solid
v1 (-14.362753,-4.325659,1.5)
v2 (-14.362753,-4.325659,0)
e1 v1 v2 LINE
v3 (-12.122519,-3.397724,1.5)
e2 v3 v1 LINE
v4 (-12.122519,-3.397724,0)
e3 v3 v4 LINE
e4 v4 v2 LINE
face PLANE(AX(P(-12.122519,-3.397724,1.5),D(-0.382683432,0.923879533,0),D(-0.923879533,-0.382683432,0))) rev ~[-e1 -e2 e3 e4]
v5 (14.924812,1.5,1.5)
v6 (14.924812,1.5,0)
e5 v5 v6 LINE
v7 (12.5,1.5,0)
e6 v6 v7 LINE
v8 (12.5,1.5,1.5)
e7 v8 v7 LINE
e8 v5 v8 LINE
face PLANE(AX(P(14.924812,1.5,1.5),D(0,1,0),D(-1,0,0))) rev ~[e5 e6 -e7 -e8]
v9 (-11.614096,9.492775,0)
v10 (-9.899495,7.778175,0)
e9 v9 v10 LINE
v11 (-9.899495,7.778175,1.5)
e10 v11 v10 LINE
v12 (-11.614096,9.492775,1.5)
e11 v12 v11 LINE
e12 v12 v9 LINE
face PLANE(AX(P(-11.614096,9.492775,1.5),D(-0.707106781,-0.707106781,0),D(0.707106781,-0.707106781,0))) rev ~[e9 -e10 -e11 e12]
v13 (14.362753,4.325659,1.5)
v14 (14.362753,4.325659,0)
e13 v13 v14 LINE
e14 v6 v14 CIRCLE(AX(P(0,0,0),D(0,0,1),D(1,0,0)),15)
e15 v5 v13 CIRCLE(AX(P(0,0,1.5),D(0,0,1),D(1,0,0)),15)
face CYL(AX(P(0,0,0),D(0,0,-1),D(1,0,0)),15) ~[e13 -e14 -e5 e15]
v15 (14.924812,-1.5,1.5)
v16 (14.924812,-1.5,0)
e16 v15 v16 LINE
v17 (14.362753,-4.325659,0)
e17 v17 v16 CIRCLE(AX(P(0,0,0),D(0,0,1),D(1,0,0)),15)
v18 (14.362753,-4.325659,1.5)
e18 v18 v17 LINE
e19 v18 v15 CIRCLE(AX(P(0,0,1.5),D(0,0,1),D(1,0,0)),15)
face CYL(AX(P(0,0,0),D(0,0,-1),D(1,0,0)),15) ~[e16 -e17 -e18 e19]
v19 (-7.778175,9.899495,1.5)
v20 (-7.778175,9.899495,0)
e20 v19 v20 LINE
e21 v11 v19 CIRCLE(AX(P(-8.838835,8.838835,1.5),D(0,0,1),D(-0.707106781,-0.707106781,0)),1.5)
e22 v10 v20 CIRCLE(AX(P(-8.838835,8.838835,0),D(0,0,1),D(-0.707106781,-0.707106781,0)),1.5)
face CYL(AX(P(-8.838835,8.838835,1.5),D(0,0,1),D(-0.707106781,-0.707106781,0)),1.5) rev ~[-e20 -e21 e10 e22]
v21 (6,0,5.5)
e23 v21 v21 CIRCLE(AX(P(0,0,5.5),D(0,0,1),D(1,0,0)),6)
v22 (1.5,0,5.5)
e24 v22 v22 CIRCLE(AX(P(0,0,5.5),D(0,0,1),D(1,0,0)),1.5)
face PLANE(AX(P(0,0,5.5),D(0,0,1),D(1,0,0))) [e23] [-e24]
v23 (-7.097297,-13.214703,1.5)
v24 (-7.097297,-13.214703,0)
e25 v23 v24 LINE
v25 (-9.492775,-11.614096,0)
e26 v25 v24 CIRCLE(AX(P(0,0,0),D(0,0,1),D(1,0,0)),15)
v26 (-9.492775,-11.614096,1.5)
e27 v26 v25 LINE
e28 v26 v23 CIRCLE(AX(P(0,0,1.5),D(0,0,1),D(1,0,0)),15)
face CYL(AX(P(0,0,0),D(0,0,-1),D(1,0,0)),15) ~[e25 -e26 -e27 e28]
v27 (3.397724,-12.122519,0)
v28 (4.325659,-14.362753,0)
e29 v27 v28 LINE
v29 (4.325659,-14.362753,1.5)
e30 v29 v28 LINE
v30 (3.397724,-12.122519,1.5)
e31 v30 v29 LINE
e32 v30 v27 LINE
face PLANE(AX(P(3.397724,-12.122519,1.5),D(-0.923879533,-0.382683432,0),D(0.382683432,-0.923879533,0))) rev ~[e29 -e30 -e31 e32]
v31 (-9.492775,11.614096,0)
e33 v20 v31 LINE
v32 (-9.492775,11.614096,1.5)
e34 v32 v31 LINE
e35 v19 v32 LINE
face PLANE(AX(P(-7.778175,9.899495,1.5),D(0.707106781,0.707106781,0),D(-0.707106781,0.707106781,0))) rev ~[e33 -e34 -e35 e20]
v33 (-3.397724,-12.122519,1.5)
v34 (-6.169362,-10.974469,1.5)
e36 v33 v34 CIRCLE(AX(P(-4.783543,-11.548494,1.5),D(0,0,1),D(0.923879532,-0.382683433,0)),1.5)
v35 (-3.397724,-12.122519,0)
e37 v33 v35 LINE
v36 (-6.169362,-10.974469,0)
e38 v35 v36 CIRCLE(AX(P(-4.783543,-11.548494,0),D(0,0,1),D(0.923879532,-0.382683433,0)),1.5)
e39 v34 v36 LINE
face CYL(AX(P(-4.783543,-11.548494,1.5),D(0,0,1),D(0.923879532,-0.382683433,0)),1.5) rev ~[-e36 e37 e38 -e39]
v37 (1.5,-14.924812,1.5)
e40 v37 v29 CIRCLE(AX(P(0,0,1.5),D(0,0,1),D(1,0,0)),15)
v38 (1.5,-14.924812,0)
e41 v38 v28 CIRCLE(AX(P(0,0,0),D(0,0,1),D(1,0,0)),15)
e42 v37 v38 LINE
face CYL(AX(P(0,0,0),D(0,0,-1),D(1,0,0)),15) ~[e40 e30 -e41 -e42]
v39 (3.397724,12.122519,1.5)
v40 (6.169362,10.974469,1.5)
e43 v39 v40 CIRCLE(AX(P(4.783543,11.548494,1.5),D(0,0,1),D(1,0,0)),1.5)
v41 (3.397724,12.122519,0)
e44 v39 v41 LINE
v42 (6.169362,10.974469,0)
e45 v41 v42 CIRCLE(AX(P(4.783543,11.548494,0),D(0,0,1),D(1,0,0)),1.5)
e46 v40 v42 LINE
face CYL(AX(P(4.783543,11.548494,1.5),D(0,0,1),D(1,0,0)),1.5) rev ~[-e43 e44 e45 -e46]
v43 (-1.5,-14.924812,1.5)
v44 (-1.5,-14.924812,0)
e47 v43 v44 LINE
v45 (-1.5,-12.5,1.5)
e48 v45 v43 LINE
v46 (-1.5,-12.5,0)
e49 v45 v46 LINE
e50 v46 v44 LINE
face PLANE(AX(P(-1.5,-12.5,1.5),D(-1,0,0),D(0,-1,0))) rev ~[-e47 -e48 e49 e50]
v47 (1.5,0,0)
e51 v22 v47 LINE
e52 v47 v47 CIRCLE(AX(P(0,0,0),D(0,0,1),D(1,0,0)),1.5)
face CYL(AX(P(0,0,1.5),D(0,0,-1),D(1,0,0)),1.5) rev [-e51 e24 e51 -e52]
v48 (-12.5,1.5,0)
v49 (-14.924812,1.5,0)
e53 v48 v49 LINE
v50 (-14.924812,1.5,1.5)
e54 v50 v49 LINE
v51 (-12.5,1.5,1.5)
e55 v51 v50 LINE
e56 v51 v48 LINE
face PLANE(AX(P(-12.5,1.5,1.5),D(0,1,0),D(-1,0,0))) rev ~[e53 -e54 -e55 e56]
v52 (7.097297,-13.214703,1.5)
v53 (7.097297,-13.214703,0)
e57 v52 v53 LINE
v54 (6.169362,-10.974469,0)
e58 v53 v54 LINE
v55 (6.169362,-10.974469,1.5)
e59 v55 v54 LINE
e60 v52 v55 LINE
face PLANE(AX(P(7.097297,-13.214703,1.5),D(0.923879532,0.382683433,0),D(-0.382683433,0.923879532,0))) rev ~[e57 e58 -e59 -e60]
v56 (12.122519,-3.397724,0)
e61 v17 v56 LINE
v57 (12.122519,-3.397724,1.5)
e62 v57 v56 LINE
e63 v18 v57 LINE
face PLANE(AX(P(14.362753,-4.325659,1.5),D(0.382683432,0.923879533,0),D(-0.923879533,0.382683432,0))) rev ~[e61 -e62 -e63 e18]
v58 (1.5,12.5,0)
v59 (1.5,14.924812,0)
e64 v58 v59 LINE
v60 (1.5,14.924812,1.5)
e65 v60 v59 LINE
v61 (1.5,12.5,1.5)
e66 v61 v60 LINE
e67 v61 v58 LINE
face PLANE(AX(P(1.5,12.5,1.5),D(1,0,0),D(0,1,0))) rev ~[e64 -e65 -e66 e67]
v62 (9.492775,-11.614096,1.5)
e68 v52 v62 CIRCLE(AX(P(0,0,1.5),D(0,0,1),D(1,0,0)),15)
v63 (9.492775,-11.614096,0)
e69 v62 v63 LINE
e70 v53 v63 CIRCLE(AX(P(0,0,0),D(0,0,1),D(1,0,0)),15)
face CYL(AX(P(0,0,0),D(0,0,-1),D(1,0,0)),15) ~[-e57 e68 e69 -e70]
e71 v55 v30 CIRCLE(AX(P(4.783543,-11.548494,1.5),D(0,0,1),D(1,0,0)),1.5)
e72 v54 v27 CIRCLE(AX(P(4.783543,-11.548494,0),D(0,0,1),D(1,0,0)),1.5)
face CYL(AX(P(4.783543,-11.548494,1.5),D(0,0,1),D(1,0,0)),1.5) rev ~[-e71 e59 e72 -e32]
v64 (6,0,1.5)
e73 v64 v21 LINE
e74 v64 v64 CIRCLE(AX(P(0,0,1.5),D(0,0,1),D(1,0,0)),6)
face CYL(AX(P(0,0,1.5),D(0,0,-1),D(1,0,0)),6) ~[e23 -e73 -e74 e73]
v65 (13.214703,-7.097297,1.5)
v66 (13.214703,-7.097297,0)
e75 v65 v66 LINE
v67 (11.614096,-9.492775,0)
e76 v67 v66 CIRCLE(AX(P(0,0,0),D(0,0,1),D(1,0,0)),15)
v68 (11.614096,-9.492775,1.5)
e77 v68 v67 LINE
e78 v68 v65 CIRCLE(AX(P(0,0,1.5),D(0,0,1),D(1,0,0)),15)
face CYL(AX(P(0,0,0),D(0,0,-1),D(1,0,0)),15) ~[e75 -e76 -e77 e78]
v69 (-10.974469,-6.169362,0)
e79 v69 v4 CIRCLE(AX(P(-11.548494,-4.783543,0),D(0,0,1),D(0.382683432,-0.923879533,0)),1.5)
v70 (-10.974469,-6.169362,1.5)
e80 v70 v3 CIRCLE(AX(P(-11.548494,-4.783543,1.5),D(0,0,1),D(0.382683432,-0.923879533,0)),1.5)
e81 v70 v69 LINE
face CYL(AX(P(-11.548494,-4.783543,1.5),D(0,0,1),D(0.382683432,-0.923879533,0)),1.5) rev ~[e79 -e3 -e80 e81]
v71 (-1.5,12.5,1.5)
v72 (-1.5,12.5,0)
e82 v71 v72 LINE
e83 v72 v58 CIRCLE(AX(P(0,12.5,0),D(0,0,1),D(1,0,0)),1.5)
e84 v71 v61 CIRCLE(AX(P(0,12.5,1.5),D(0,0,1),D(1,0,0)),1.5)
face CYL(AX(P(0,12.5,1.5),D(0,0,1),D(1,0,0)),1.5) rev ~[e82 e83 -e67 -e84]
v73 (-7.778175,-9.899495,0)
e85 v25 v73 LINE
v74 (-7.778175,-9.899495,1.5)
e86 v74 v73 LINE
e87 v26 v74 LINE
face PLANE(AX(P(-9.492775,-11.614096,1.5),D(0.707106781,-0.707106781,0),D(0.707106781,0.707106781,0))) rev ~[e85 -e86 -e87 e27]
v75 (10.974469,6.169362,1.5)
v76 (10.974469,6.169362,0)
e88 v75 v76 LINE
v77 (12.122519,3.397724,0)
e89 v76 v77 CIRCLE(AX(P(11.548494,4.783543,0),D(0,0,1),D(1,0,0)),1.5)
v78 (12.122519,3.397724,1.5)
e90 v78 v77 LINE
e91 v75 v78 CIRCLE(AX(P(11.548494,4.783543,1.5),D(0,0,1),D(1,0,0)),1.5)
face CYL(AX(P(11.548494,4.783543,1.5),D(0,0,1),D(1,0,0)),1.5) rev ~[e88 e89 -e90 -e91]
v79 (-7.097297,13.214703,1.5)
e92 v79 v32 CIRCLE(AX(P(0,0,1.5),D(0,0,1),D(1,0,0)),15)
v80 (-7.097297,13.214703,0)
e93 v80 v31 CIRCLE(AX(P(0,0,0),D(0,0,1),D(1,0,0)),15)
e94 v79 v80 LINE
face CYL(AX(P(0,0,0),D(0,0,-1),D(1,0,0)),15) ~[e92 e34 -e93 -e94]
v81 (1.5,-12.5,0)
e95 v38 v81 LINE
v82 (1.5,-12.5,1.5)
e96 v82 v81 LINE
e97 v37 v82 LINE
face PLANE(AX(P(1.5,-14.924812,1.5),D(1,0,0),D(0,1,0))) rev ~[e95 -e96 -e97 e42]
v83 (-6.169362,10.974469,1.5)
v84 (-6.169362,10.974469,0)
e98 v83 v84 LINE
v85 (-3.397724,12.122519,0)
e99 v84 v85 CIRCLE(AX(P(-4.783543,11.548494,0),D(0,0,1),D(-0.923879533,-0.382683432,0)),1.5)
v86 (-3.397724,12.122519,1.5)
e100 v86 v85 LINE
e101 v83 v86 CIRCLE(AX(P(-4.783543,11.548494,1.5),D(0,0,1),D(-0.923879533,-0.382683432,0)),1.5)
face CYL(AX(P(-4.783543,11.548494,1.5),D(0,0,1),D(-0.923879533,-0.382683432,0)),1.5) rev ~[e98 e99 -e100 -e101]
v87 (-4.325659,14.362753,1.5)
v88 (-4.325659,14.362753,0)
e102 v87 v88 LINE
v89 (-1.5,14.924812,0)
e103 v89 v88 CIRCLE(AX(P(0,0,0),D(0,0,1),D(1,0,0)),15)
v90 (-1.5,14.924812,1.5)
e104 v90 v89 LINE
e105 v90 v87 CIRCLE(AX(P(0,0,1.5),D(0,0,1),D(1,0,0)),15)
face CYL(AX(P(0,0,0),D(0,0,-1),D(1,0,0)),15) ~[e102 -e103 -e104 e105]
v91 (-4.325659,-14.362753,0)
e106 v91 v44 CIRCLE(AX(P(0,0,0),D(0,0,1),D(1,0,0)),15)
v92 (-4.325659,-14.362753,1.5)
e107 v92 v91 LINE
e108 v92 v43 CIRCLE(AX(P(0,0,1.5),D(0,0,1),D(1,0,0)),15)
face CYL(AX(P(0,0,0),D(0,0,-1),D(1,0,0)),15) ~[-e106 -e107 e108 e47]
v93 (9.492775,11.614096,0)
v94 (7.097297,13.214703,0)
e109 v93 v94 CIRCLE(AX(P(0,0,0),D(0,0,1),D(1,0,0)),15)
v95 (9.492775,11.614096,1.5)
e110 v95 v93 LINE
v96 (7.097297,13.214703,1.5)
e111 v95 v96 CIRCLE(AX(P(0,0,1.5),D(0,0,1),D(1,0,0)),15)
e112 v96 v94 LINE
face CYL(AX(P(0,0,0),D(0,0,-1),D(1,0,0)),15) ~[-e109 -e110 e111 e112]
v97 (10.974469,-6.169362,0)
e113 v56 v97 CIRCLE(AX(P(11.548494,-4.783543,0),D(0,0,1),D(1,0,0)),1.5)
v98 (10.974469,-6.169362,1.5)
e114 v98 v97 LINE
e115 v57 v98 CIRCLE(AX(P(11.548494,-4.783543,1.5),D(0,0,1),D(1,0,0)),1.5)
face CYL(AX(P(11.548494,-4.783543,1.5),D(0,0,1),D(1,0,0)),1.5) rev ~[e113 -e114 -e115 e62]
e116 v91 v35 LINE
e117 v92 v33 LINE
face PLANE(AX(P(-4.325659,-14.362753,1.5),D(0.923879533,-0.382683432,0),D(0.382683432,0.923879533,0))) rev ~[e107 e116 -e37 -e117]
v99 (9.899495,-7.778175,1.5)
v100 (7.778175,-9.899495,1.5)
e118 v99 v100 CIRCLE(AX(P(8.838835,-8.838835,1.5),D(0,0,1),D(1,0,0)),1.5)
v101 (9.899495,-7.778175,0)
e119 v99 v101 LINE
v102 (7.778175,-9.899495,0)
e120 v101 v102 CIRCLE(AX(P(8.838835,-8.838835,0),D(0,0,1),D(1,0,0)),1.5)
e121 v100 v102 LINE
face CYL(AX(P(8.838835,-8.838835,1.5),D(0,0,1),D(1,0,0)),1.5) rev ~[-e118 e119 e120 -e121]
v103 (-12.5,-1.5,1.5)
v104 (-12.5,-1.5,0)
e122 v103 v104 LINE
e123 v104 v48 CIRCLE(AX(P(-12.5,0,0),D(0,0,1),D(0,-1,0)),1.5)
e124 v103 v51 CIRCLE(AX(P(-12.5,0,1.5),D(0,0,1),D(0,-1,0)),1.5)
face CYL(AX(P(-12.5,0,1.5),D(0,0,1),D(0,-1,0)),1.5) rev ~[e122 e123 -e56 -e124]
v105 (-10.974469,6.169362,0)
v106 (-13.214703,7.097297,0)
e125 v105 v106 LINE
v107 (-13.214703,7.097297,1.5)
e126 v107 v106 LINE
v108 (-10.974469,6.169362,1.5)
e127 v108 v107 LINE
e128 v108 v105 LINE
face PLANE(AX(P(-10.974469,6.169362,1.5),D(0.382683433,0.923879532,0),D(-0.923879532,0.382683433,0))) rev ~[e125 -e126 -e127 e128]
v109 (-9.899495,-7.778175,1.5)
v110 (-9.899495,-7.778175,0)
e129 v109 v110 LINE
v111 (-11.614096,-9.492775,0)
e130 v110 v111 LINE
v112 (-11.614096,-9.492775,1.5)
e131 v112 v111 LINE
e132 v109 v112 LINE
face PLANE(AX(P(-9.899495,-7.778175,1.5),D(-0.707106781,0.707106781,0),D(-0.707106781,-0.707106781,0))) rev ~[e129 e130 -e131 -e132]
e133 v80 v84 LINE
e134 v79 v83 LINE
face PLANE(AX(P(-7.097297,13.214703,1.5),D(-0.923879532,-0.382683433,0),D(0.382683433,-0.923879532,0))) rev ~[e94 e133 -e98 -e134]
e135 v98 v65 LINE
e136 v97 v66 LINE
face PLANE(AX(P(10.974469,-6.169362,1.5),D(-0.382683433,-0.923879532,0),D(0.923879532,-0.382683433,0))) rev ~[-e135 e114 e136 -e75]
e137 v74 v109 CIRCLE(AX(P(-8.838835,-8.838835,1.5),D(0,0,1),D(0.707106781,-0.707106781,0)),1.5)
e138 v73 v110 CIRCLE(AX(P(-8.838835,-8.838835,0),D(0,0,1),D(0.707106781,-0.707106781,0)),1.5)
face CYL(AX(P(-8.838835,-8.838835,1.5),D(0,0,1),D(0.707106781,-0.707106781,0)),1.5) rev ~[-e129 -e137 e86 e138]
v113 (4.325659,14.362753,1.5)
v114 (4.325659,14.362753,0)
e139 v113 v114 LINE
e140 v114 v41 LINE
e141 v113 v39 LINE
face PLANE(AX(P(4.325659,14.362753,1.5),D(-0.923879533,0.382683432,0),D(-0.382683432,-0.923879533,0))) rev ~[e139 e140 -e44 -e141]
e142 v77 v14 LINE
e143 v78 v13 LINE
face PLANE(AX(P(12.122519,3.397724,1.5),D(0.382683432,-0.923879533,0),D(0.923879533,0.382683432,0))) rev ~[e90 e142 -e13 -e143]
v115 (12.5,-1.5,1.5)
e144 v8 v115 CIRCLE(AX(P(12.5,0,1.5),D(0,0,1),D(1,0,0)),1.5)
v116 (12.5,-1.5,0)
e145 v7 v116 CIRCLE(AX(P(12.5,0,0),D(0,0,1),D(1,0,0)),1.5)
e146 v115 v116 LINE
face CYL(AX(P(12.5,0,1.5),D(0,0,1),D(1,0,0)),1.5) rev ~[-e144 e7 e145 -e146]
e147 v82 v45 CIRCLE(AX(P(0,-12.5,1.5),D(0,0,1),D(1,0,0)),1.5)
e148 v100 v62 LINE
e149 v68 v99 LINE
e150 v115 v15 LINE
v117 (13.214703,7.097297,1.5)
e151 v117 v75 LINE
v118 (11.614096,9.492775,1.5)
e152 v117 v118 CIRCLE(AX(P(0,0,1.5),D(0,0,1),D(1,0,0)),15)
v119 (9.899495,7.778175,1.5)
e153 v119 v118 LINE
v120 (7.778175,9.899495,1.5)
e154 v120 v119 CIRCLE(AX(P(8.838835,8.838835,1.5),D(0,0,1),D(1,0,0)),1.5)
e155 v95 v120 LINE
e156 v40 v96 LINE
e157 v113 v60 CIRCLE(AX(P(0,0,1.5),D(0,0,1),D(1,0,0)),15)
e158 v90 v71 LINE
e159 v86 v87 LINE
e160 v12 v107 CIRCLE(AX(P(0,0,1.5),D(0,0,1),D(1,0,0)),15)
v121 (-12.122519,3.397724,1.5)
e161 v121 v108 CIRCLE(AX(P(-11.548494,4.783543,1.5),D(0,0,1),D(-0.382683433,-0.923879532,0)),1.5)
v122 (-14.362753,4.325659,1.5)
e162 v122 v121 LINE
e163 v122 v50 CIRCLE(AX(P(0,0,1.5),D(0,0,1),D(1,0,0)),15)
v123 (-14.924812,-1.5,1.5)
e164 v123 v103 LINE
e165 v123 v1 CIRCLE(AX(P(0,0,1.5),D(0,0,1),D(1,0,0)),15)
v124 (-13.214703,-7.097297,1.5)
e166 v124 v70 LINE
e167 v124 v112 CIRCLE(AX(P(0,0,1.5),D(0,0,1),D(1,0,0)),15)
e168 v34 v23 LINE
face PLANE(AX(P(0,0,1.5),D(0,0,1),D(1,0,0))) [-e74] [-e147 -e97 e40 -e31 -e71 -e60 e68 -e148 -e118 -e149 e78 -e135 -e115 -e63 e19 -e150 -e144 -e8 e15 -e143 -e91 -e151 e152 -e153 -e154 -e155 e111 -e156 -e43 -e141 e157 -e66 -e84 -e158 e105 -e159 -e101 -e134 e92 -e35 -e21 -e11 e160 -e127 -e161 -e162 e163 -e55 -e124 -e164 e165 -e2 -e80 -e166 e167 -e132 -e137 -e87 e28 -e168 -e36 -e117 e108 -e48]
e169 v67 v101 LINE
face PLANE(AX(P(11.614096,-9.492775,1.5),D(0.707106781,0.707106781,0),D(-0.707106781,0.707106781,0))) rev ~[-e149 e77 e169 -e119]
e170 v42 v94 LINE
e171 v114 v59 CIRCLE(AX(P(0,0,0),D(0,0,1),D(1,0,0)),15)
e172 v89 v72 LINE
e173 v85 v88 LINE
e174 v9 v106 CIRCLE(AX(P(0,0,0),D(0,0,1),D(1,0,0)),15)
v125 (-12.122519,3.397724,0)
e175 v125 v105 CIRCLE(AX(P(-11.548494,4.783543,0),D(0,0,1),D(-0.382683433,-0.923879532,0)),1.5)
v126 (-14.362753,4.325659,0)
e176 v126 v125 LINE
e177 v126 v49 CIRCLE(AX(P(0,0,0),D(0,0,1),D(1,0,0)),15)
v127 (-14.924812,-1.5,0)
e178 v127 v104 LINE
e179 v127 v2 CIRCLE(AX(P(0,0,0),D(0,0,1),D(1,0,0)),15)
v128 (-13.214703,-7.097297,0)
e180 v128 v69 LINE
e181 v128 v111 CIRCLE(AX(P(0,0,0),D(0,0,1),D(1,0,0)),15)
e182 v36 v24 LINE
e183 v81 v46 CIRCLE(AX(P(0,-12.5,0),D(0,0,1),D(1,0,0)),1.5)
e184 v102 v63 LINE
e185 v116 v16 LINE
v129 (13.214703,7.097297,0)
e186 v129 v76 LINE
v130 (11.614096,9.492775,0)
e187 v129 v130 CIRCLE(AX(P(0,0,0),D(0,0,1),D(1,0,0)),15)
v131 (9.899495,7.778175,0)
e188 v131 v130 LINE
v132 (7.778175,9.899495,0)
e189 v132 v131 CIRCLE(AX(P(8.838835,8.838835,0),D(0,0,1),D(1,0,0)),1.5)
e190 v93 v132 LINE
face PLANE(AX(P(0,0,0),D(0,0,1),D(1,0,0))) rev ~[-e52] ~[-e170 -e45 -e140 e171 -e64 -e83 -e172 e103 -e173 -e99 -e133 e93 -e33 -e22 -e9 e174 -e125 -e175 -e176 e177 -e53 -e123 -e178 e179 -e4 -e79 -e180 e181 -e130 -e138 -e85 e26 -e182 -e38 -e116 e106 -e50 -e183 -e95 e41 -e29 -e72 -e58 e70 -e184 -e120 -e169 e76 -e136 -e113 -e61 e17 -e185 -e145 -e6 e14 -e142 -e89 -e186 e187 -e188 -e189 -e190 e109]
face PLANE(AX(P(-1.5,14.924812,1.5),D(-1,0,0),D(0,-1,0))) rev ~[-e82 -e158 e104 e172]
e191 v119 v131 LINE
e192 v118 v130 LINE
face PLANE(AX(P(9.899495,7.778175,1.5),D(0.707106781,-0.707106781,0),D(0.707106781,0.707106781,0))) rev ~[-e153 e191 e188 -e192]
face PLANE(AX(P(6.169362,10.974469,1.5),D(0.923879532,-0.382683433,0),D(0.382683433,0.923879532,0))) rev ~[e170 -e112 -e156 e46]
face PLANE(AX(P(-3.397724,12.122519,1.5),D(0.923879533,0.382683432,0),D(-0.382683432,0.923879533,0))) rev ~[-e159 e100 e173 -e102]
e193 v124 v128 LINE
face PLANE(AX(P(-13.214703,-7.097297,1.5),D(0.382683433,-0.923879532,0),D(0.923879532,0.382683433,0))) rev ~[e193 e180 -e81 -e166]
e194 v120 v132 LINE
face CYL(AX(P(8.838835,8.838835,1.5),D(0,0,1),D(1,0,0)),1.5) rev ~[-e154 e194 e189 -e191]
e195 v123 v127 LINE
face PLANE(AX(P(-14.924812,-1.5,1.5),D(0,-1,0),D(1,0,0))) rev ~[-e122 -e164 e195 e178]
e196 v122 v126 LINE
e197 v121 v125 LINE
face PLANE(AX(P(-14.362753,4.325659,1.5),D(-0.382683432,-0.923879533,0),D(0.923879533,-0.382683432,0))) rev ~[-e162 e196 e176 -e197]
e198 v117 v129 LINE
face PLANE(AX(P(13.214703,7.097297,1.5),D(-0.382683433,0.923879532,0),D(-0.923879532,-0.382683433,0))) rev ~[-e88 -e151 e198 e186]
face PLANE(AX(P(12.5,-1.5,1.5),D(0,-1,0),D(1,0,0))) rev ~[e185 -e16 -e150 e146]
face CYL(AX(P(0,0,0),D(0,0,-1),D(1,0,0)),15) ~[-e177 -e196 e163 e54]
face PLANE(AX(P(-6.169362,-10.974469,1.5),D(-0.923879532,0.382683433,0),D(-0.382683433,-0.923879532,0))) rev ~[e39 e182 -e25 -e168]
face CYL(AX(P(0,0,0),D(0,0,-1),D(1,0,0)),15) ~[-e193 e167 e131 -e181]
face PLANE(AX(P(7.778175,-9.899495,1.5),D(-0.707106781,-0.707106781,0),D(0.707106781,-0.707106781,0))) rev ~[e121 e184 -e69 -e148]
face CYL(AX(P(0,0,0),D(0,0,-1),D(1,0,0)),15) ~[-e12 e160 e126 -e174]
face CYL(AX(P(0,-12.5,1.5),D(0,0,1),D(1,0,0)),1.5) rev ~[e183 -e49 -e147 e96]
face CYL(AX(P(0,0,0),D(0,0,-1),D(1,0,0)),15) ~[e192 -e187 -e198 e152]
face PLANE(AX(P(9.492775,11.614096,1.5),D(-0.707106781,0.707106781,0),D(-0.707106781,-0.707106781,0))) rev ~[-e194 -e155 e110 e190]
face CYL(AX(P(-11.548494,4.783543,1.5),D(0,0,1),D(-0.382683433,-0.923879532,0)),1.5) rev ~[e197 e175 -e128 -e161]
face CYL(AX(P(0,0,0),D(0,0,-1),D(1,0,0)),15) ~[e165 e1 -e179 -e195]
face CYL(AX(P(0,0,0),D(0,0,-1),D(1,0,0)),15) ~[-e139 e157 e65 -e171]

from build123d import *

# Parameters (mm, degrees)
SKETCH1_R           = 15
SKETCH1_R_2         = 1.5
BOSS_EXTRUDE1_DEPTH = 1.5
SKETCH2_R           = 6
SKETCH2_R_2         = 1.5
BOSS_EXTRUDE2_DEPTH = 4
CUT_EXTRUDE3_DEPTH  = 22.587033145


with BuildPart() as part:
    # Sketch1 → Boss-Extrude1 (new body)
    with BuildSketch(Plane.XY):
        Circle(SKETCH1_R)
        Circle(SKETCH1_R_2, mode=Mode.SUBTRACT)
    extrude(amount=BOSS_EXTRUDE1_DEPTH)

    # Sketch2 → Boss-Extrude2 (add)
    with BuildSketch(Plane.XY.offset(1.5)):
        Circle(SKETCH2_R)
        Circle(SKETCH2_R_2, mode=Mode.SUBTRACT)
    extrude(amount=BOSS_EXTRUDE2_DEPTH)

    # Sketch3 → Cut-Extrude3 (cut, through all)
    with BuildSketch(Plane.XY.offset(1.5)):
        with BuildLine():
            Line((-1.5, 14.924811557), (-1.5, 12.5))
            ThreePointArc((-1.5, 12.5), (0, 11), (1.5, 12.5))
            Line((1.5, 12.5), (1.5, 14.924811557))
            ThreePointArc((1.5, 14.924811557), (0, 15), (-1.5, 14.924811557))
        make_face()
        with BuildLine():
            ThreePointArc((7.097297413, 13.214702775), (5.740251485, 13.858192988), (4.325658815, 14.362753072))
            Line((4.325658815, 14.362753072), (3.397723606, 12.122519305))
            ThreePointArc((3.397723606, 12.122519305), (4.209517756, 10.162674858), (6.169362203, 10.974469008))
            Line((6.169362203, 10.974469008), (7.097297413, 13.214702775))
        make_face()
        with BuildLine():
            Line((-3.397723606, 12.122519305), (-4.325658815, 14.362753072))
            ThreePointArc((-4.325658815, 14.362753072), (-5.740251485, 13.858192988), (-7.097297413, 13.214702775))
            Line((-7.097297413, 13.214702775), (-6.169362203, 10.974469008))
            ThreePointArc((-6.169362203, 10.974469008), (-4.209517756, 10.162674858), (-3.397723606, 12.122519305))
        make_face()
        with BuildLine():
            ThreePointArc((11.614095631, 9.492775288), (10.606601718, 10.606601718), (9.492775288, 11.614095631))
            Line((9.492775288, 11.614095631), (7.778174593, 9.899494937))
            ThreePointArc((7.778174593, 9.899494937), (7.778174593, 7.778174593), (9.899494937, 7.778174593))
            Line((9.899494937, 7.778174593), (11.614095631, 9.492775288))
        make_face()
        with BuildLine():
            Line((-7.778174593, 9.899494937), (-9.492775288, 11.614095631))
            ThreePointArc((-9.492775288, 11.614095631), (-10.606601718, 10.606601718), (-11.614095631, 9.492775288))
            Line((-11.614095631, 9.492775288), (-9.899494937, 7.778174593))
            ThreePointArc((-9.899494937, 7.778174593), (-7.778174593, 7.778174593), (-7.778174593, 9.899494937))
        make_face()
        with BuildLine():
            ThreePointArc((14.362753072, 4.325658815), (13.858192988, 5.740251485), (13.214702775, 7.097297413))
            Line((13.214702775, 7.097297413), (10.974469008, 6.169362203))
            ThreePointArc((10.974469008, 6.169362203), (10.162674858, 4.209517756), (12.122519305, 3.397723606))
            Line((12.122519305, 3.397723606), (14.362753072, 4.325658815))
        make_face()
        with BuildLine():
            Line((-10.974469008, 6.169362203), (-13.214702775, 7.097297413))
            ThreePointArc((-13.214702775, 7.097297413), (-13.858192988, 5.740251485), (-14.362753072, 4.325658815))
            Line((-14.362753072, 4.325658815), (-12.122519305, 3.397723606))
            ThreePointArc((-12.122519305, 3.397723606), (-10.162674858, 4.209517756), (-10.974469008, 6.169362203))
        make_face()
        with BuildLine():
            Line((14.924811557, 1.5), (12.5, 1.5))
            ThreePointArc((12.5, 1.5), (11, 0), (12.5, -1.5))
            Line((12.5, -1.5), (14.924811557, -1.5))
            ThreePointArc((14.924811557, -1.5), (15, 0), (14.924811557, 1.5))
        make_face()
        with BuildLine():
            Line((-12.5, 1.5), (-14.924811557, 1.5))
            ThreePointArc((-14.924811557, 1.5), (-15, 0), (-14.924811557, -1.5))
            Line((-14.924811557, -1.5), (-12.5, -1.5))
            ThreePointArc((-12.5, -1.5), (-11, 0), (-12.5, 1.5))
        make_face()
        with BuildLine():
            ThreePointArc((13.214702775, -7.097297413), (13.858192988, -5.740251485), (14.362753072, -4.325658815))
            Line((14.362753072, -4.325658815), (12.122519305, -3.397723606))
            ThreePointArc((12.122519305, -3.397723606), (10.162674858, -4.209517756), (10.974469008, -6.169362203))
            Line((10.974469008, -6.169362203), (13.214702775, -7.097297413))
        make_face()
        with BuildLine():
            Line((-12.122519305, -3.397723606), (-14.362753072, -4.325658815))
            ThreePointArc((-14.362753072, -4.325658815), (-13.858192988, -5.740251485), (-13.214702775, -7.097297413))
            Line((-13.214702775, -7.097297413), (-10.974469008, -6.169362203))
            ThreePointArc((-10.974469008, -6.169362203), (-10.162674858, -4.209517756), (-12.122519305, -3.397723606))
        make_face()
        with BuildLine():
            ThreePointArc((9.492775288, -11.614095631), (10.606601718, -10.606601718), (11.614095631, -9.492775288))
            Line((11.614095631, -9.492775288), (9.899494937, -7.778174593))
            ThreePointArc((9.899494937, -7.778174593), (7.778174593, -7.778174593), (7.778174593, -9.899494937))
            Line((7.778174593, -9.899494937), (9.492775288, -11.614095631))
        make_face()
        with BuildLine():
            Line((-9.899494937, -7.778174593), (-11.614095631, -9.492775288))
            ThreePointArc((-11.614095631, -9.492775288), (-10.606601718, -10.606601718), (-9.492775288, -11.614095631))
            Line((-9.492775288, -11.614095631), (-7.778174593, -9.899494937))
            ThreePointArc((-7.778174593, -9.899494937), (-7.778174593, -7.778174593), (-9.899494937, -7.778174593))
        make_face()
        with BuildLine():
            ThreePointArc((4.325658815, -14.362753072), (5.740251485, -13.858192988), (7.097297413, -13.214702775))
            Line((7.097297413, -13.214702775), (6.169362203, -10.974469008))
            ThreePointArc((6.169362203, -10.974469008), (4.209517756, -10.162674858), (3.397723606, -12.122519305))
            Line((3.397723606, -12.122519305), (4.325658815, -14.362753072))
        make_face()
        with BuildLine():
            Line((-6.169362203, -10.974469008), (-7.097297413, -13.214702775))
            ThreePointArc((-7.097297413, -13.214702775), (-5.740251485, -13.858192988), (-4.325658815, -14.362753072))
            Line((-4.325658815, -14.362753072), (-3.397723606, -12.122519305))
            ThreePointArc((-3.397723606, -12.122519305), (-4.209517756, -10.162674858), (-6.169362203, -10.974469008))
        make_face()
        with BuildLine():
            ThreePointArc((-1.5, -14.924811557), (0, -15), (1.5, -14.924811557))
            Line((1.5, -14.924811557), (1.5, -12.5))
            ThreePointArc((1.5, -12.5), (0, -11), (-1.5, -12.5))
            Line((-1.5, -12.5), (-1.5, -14.924811557))
        make_face()
    extrude(amount=-CUT_EXTRUDE3_DEPTH, mode=Mode.SUBTRACT)


solid = part.part
